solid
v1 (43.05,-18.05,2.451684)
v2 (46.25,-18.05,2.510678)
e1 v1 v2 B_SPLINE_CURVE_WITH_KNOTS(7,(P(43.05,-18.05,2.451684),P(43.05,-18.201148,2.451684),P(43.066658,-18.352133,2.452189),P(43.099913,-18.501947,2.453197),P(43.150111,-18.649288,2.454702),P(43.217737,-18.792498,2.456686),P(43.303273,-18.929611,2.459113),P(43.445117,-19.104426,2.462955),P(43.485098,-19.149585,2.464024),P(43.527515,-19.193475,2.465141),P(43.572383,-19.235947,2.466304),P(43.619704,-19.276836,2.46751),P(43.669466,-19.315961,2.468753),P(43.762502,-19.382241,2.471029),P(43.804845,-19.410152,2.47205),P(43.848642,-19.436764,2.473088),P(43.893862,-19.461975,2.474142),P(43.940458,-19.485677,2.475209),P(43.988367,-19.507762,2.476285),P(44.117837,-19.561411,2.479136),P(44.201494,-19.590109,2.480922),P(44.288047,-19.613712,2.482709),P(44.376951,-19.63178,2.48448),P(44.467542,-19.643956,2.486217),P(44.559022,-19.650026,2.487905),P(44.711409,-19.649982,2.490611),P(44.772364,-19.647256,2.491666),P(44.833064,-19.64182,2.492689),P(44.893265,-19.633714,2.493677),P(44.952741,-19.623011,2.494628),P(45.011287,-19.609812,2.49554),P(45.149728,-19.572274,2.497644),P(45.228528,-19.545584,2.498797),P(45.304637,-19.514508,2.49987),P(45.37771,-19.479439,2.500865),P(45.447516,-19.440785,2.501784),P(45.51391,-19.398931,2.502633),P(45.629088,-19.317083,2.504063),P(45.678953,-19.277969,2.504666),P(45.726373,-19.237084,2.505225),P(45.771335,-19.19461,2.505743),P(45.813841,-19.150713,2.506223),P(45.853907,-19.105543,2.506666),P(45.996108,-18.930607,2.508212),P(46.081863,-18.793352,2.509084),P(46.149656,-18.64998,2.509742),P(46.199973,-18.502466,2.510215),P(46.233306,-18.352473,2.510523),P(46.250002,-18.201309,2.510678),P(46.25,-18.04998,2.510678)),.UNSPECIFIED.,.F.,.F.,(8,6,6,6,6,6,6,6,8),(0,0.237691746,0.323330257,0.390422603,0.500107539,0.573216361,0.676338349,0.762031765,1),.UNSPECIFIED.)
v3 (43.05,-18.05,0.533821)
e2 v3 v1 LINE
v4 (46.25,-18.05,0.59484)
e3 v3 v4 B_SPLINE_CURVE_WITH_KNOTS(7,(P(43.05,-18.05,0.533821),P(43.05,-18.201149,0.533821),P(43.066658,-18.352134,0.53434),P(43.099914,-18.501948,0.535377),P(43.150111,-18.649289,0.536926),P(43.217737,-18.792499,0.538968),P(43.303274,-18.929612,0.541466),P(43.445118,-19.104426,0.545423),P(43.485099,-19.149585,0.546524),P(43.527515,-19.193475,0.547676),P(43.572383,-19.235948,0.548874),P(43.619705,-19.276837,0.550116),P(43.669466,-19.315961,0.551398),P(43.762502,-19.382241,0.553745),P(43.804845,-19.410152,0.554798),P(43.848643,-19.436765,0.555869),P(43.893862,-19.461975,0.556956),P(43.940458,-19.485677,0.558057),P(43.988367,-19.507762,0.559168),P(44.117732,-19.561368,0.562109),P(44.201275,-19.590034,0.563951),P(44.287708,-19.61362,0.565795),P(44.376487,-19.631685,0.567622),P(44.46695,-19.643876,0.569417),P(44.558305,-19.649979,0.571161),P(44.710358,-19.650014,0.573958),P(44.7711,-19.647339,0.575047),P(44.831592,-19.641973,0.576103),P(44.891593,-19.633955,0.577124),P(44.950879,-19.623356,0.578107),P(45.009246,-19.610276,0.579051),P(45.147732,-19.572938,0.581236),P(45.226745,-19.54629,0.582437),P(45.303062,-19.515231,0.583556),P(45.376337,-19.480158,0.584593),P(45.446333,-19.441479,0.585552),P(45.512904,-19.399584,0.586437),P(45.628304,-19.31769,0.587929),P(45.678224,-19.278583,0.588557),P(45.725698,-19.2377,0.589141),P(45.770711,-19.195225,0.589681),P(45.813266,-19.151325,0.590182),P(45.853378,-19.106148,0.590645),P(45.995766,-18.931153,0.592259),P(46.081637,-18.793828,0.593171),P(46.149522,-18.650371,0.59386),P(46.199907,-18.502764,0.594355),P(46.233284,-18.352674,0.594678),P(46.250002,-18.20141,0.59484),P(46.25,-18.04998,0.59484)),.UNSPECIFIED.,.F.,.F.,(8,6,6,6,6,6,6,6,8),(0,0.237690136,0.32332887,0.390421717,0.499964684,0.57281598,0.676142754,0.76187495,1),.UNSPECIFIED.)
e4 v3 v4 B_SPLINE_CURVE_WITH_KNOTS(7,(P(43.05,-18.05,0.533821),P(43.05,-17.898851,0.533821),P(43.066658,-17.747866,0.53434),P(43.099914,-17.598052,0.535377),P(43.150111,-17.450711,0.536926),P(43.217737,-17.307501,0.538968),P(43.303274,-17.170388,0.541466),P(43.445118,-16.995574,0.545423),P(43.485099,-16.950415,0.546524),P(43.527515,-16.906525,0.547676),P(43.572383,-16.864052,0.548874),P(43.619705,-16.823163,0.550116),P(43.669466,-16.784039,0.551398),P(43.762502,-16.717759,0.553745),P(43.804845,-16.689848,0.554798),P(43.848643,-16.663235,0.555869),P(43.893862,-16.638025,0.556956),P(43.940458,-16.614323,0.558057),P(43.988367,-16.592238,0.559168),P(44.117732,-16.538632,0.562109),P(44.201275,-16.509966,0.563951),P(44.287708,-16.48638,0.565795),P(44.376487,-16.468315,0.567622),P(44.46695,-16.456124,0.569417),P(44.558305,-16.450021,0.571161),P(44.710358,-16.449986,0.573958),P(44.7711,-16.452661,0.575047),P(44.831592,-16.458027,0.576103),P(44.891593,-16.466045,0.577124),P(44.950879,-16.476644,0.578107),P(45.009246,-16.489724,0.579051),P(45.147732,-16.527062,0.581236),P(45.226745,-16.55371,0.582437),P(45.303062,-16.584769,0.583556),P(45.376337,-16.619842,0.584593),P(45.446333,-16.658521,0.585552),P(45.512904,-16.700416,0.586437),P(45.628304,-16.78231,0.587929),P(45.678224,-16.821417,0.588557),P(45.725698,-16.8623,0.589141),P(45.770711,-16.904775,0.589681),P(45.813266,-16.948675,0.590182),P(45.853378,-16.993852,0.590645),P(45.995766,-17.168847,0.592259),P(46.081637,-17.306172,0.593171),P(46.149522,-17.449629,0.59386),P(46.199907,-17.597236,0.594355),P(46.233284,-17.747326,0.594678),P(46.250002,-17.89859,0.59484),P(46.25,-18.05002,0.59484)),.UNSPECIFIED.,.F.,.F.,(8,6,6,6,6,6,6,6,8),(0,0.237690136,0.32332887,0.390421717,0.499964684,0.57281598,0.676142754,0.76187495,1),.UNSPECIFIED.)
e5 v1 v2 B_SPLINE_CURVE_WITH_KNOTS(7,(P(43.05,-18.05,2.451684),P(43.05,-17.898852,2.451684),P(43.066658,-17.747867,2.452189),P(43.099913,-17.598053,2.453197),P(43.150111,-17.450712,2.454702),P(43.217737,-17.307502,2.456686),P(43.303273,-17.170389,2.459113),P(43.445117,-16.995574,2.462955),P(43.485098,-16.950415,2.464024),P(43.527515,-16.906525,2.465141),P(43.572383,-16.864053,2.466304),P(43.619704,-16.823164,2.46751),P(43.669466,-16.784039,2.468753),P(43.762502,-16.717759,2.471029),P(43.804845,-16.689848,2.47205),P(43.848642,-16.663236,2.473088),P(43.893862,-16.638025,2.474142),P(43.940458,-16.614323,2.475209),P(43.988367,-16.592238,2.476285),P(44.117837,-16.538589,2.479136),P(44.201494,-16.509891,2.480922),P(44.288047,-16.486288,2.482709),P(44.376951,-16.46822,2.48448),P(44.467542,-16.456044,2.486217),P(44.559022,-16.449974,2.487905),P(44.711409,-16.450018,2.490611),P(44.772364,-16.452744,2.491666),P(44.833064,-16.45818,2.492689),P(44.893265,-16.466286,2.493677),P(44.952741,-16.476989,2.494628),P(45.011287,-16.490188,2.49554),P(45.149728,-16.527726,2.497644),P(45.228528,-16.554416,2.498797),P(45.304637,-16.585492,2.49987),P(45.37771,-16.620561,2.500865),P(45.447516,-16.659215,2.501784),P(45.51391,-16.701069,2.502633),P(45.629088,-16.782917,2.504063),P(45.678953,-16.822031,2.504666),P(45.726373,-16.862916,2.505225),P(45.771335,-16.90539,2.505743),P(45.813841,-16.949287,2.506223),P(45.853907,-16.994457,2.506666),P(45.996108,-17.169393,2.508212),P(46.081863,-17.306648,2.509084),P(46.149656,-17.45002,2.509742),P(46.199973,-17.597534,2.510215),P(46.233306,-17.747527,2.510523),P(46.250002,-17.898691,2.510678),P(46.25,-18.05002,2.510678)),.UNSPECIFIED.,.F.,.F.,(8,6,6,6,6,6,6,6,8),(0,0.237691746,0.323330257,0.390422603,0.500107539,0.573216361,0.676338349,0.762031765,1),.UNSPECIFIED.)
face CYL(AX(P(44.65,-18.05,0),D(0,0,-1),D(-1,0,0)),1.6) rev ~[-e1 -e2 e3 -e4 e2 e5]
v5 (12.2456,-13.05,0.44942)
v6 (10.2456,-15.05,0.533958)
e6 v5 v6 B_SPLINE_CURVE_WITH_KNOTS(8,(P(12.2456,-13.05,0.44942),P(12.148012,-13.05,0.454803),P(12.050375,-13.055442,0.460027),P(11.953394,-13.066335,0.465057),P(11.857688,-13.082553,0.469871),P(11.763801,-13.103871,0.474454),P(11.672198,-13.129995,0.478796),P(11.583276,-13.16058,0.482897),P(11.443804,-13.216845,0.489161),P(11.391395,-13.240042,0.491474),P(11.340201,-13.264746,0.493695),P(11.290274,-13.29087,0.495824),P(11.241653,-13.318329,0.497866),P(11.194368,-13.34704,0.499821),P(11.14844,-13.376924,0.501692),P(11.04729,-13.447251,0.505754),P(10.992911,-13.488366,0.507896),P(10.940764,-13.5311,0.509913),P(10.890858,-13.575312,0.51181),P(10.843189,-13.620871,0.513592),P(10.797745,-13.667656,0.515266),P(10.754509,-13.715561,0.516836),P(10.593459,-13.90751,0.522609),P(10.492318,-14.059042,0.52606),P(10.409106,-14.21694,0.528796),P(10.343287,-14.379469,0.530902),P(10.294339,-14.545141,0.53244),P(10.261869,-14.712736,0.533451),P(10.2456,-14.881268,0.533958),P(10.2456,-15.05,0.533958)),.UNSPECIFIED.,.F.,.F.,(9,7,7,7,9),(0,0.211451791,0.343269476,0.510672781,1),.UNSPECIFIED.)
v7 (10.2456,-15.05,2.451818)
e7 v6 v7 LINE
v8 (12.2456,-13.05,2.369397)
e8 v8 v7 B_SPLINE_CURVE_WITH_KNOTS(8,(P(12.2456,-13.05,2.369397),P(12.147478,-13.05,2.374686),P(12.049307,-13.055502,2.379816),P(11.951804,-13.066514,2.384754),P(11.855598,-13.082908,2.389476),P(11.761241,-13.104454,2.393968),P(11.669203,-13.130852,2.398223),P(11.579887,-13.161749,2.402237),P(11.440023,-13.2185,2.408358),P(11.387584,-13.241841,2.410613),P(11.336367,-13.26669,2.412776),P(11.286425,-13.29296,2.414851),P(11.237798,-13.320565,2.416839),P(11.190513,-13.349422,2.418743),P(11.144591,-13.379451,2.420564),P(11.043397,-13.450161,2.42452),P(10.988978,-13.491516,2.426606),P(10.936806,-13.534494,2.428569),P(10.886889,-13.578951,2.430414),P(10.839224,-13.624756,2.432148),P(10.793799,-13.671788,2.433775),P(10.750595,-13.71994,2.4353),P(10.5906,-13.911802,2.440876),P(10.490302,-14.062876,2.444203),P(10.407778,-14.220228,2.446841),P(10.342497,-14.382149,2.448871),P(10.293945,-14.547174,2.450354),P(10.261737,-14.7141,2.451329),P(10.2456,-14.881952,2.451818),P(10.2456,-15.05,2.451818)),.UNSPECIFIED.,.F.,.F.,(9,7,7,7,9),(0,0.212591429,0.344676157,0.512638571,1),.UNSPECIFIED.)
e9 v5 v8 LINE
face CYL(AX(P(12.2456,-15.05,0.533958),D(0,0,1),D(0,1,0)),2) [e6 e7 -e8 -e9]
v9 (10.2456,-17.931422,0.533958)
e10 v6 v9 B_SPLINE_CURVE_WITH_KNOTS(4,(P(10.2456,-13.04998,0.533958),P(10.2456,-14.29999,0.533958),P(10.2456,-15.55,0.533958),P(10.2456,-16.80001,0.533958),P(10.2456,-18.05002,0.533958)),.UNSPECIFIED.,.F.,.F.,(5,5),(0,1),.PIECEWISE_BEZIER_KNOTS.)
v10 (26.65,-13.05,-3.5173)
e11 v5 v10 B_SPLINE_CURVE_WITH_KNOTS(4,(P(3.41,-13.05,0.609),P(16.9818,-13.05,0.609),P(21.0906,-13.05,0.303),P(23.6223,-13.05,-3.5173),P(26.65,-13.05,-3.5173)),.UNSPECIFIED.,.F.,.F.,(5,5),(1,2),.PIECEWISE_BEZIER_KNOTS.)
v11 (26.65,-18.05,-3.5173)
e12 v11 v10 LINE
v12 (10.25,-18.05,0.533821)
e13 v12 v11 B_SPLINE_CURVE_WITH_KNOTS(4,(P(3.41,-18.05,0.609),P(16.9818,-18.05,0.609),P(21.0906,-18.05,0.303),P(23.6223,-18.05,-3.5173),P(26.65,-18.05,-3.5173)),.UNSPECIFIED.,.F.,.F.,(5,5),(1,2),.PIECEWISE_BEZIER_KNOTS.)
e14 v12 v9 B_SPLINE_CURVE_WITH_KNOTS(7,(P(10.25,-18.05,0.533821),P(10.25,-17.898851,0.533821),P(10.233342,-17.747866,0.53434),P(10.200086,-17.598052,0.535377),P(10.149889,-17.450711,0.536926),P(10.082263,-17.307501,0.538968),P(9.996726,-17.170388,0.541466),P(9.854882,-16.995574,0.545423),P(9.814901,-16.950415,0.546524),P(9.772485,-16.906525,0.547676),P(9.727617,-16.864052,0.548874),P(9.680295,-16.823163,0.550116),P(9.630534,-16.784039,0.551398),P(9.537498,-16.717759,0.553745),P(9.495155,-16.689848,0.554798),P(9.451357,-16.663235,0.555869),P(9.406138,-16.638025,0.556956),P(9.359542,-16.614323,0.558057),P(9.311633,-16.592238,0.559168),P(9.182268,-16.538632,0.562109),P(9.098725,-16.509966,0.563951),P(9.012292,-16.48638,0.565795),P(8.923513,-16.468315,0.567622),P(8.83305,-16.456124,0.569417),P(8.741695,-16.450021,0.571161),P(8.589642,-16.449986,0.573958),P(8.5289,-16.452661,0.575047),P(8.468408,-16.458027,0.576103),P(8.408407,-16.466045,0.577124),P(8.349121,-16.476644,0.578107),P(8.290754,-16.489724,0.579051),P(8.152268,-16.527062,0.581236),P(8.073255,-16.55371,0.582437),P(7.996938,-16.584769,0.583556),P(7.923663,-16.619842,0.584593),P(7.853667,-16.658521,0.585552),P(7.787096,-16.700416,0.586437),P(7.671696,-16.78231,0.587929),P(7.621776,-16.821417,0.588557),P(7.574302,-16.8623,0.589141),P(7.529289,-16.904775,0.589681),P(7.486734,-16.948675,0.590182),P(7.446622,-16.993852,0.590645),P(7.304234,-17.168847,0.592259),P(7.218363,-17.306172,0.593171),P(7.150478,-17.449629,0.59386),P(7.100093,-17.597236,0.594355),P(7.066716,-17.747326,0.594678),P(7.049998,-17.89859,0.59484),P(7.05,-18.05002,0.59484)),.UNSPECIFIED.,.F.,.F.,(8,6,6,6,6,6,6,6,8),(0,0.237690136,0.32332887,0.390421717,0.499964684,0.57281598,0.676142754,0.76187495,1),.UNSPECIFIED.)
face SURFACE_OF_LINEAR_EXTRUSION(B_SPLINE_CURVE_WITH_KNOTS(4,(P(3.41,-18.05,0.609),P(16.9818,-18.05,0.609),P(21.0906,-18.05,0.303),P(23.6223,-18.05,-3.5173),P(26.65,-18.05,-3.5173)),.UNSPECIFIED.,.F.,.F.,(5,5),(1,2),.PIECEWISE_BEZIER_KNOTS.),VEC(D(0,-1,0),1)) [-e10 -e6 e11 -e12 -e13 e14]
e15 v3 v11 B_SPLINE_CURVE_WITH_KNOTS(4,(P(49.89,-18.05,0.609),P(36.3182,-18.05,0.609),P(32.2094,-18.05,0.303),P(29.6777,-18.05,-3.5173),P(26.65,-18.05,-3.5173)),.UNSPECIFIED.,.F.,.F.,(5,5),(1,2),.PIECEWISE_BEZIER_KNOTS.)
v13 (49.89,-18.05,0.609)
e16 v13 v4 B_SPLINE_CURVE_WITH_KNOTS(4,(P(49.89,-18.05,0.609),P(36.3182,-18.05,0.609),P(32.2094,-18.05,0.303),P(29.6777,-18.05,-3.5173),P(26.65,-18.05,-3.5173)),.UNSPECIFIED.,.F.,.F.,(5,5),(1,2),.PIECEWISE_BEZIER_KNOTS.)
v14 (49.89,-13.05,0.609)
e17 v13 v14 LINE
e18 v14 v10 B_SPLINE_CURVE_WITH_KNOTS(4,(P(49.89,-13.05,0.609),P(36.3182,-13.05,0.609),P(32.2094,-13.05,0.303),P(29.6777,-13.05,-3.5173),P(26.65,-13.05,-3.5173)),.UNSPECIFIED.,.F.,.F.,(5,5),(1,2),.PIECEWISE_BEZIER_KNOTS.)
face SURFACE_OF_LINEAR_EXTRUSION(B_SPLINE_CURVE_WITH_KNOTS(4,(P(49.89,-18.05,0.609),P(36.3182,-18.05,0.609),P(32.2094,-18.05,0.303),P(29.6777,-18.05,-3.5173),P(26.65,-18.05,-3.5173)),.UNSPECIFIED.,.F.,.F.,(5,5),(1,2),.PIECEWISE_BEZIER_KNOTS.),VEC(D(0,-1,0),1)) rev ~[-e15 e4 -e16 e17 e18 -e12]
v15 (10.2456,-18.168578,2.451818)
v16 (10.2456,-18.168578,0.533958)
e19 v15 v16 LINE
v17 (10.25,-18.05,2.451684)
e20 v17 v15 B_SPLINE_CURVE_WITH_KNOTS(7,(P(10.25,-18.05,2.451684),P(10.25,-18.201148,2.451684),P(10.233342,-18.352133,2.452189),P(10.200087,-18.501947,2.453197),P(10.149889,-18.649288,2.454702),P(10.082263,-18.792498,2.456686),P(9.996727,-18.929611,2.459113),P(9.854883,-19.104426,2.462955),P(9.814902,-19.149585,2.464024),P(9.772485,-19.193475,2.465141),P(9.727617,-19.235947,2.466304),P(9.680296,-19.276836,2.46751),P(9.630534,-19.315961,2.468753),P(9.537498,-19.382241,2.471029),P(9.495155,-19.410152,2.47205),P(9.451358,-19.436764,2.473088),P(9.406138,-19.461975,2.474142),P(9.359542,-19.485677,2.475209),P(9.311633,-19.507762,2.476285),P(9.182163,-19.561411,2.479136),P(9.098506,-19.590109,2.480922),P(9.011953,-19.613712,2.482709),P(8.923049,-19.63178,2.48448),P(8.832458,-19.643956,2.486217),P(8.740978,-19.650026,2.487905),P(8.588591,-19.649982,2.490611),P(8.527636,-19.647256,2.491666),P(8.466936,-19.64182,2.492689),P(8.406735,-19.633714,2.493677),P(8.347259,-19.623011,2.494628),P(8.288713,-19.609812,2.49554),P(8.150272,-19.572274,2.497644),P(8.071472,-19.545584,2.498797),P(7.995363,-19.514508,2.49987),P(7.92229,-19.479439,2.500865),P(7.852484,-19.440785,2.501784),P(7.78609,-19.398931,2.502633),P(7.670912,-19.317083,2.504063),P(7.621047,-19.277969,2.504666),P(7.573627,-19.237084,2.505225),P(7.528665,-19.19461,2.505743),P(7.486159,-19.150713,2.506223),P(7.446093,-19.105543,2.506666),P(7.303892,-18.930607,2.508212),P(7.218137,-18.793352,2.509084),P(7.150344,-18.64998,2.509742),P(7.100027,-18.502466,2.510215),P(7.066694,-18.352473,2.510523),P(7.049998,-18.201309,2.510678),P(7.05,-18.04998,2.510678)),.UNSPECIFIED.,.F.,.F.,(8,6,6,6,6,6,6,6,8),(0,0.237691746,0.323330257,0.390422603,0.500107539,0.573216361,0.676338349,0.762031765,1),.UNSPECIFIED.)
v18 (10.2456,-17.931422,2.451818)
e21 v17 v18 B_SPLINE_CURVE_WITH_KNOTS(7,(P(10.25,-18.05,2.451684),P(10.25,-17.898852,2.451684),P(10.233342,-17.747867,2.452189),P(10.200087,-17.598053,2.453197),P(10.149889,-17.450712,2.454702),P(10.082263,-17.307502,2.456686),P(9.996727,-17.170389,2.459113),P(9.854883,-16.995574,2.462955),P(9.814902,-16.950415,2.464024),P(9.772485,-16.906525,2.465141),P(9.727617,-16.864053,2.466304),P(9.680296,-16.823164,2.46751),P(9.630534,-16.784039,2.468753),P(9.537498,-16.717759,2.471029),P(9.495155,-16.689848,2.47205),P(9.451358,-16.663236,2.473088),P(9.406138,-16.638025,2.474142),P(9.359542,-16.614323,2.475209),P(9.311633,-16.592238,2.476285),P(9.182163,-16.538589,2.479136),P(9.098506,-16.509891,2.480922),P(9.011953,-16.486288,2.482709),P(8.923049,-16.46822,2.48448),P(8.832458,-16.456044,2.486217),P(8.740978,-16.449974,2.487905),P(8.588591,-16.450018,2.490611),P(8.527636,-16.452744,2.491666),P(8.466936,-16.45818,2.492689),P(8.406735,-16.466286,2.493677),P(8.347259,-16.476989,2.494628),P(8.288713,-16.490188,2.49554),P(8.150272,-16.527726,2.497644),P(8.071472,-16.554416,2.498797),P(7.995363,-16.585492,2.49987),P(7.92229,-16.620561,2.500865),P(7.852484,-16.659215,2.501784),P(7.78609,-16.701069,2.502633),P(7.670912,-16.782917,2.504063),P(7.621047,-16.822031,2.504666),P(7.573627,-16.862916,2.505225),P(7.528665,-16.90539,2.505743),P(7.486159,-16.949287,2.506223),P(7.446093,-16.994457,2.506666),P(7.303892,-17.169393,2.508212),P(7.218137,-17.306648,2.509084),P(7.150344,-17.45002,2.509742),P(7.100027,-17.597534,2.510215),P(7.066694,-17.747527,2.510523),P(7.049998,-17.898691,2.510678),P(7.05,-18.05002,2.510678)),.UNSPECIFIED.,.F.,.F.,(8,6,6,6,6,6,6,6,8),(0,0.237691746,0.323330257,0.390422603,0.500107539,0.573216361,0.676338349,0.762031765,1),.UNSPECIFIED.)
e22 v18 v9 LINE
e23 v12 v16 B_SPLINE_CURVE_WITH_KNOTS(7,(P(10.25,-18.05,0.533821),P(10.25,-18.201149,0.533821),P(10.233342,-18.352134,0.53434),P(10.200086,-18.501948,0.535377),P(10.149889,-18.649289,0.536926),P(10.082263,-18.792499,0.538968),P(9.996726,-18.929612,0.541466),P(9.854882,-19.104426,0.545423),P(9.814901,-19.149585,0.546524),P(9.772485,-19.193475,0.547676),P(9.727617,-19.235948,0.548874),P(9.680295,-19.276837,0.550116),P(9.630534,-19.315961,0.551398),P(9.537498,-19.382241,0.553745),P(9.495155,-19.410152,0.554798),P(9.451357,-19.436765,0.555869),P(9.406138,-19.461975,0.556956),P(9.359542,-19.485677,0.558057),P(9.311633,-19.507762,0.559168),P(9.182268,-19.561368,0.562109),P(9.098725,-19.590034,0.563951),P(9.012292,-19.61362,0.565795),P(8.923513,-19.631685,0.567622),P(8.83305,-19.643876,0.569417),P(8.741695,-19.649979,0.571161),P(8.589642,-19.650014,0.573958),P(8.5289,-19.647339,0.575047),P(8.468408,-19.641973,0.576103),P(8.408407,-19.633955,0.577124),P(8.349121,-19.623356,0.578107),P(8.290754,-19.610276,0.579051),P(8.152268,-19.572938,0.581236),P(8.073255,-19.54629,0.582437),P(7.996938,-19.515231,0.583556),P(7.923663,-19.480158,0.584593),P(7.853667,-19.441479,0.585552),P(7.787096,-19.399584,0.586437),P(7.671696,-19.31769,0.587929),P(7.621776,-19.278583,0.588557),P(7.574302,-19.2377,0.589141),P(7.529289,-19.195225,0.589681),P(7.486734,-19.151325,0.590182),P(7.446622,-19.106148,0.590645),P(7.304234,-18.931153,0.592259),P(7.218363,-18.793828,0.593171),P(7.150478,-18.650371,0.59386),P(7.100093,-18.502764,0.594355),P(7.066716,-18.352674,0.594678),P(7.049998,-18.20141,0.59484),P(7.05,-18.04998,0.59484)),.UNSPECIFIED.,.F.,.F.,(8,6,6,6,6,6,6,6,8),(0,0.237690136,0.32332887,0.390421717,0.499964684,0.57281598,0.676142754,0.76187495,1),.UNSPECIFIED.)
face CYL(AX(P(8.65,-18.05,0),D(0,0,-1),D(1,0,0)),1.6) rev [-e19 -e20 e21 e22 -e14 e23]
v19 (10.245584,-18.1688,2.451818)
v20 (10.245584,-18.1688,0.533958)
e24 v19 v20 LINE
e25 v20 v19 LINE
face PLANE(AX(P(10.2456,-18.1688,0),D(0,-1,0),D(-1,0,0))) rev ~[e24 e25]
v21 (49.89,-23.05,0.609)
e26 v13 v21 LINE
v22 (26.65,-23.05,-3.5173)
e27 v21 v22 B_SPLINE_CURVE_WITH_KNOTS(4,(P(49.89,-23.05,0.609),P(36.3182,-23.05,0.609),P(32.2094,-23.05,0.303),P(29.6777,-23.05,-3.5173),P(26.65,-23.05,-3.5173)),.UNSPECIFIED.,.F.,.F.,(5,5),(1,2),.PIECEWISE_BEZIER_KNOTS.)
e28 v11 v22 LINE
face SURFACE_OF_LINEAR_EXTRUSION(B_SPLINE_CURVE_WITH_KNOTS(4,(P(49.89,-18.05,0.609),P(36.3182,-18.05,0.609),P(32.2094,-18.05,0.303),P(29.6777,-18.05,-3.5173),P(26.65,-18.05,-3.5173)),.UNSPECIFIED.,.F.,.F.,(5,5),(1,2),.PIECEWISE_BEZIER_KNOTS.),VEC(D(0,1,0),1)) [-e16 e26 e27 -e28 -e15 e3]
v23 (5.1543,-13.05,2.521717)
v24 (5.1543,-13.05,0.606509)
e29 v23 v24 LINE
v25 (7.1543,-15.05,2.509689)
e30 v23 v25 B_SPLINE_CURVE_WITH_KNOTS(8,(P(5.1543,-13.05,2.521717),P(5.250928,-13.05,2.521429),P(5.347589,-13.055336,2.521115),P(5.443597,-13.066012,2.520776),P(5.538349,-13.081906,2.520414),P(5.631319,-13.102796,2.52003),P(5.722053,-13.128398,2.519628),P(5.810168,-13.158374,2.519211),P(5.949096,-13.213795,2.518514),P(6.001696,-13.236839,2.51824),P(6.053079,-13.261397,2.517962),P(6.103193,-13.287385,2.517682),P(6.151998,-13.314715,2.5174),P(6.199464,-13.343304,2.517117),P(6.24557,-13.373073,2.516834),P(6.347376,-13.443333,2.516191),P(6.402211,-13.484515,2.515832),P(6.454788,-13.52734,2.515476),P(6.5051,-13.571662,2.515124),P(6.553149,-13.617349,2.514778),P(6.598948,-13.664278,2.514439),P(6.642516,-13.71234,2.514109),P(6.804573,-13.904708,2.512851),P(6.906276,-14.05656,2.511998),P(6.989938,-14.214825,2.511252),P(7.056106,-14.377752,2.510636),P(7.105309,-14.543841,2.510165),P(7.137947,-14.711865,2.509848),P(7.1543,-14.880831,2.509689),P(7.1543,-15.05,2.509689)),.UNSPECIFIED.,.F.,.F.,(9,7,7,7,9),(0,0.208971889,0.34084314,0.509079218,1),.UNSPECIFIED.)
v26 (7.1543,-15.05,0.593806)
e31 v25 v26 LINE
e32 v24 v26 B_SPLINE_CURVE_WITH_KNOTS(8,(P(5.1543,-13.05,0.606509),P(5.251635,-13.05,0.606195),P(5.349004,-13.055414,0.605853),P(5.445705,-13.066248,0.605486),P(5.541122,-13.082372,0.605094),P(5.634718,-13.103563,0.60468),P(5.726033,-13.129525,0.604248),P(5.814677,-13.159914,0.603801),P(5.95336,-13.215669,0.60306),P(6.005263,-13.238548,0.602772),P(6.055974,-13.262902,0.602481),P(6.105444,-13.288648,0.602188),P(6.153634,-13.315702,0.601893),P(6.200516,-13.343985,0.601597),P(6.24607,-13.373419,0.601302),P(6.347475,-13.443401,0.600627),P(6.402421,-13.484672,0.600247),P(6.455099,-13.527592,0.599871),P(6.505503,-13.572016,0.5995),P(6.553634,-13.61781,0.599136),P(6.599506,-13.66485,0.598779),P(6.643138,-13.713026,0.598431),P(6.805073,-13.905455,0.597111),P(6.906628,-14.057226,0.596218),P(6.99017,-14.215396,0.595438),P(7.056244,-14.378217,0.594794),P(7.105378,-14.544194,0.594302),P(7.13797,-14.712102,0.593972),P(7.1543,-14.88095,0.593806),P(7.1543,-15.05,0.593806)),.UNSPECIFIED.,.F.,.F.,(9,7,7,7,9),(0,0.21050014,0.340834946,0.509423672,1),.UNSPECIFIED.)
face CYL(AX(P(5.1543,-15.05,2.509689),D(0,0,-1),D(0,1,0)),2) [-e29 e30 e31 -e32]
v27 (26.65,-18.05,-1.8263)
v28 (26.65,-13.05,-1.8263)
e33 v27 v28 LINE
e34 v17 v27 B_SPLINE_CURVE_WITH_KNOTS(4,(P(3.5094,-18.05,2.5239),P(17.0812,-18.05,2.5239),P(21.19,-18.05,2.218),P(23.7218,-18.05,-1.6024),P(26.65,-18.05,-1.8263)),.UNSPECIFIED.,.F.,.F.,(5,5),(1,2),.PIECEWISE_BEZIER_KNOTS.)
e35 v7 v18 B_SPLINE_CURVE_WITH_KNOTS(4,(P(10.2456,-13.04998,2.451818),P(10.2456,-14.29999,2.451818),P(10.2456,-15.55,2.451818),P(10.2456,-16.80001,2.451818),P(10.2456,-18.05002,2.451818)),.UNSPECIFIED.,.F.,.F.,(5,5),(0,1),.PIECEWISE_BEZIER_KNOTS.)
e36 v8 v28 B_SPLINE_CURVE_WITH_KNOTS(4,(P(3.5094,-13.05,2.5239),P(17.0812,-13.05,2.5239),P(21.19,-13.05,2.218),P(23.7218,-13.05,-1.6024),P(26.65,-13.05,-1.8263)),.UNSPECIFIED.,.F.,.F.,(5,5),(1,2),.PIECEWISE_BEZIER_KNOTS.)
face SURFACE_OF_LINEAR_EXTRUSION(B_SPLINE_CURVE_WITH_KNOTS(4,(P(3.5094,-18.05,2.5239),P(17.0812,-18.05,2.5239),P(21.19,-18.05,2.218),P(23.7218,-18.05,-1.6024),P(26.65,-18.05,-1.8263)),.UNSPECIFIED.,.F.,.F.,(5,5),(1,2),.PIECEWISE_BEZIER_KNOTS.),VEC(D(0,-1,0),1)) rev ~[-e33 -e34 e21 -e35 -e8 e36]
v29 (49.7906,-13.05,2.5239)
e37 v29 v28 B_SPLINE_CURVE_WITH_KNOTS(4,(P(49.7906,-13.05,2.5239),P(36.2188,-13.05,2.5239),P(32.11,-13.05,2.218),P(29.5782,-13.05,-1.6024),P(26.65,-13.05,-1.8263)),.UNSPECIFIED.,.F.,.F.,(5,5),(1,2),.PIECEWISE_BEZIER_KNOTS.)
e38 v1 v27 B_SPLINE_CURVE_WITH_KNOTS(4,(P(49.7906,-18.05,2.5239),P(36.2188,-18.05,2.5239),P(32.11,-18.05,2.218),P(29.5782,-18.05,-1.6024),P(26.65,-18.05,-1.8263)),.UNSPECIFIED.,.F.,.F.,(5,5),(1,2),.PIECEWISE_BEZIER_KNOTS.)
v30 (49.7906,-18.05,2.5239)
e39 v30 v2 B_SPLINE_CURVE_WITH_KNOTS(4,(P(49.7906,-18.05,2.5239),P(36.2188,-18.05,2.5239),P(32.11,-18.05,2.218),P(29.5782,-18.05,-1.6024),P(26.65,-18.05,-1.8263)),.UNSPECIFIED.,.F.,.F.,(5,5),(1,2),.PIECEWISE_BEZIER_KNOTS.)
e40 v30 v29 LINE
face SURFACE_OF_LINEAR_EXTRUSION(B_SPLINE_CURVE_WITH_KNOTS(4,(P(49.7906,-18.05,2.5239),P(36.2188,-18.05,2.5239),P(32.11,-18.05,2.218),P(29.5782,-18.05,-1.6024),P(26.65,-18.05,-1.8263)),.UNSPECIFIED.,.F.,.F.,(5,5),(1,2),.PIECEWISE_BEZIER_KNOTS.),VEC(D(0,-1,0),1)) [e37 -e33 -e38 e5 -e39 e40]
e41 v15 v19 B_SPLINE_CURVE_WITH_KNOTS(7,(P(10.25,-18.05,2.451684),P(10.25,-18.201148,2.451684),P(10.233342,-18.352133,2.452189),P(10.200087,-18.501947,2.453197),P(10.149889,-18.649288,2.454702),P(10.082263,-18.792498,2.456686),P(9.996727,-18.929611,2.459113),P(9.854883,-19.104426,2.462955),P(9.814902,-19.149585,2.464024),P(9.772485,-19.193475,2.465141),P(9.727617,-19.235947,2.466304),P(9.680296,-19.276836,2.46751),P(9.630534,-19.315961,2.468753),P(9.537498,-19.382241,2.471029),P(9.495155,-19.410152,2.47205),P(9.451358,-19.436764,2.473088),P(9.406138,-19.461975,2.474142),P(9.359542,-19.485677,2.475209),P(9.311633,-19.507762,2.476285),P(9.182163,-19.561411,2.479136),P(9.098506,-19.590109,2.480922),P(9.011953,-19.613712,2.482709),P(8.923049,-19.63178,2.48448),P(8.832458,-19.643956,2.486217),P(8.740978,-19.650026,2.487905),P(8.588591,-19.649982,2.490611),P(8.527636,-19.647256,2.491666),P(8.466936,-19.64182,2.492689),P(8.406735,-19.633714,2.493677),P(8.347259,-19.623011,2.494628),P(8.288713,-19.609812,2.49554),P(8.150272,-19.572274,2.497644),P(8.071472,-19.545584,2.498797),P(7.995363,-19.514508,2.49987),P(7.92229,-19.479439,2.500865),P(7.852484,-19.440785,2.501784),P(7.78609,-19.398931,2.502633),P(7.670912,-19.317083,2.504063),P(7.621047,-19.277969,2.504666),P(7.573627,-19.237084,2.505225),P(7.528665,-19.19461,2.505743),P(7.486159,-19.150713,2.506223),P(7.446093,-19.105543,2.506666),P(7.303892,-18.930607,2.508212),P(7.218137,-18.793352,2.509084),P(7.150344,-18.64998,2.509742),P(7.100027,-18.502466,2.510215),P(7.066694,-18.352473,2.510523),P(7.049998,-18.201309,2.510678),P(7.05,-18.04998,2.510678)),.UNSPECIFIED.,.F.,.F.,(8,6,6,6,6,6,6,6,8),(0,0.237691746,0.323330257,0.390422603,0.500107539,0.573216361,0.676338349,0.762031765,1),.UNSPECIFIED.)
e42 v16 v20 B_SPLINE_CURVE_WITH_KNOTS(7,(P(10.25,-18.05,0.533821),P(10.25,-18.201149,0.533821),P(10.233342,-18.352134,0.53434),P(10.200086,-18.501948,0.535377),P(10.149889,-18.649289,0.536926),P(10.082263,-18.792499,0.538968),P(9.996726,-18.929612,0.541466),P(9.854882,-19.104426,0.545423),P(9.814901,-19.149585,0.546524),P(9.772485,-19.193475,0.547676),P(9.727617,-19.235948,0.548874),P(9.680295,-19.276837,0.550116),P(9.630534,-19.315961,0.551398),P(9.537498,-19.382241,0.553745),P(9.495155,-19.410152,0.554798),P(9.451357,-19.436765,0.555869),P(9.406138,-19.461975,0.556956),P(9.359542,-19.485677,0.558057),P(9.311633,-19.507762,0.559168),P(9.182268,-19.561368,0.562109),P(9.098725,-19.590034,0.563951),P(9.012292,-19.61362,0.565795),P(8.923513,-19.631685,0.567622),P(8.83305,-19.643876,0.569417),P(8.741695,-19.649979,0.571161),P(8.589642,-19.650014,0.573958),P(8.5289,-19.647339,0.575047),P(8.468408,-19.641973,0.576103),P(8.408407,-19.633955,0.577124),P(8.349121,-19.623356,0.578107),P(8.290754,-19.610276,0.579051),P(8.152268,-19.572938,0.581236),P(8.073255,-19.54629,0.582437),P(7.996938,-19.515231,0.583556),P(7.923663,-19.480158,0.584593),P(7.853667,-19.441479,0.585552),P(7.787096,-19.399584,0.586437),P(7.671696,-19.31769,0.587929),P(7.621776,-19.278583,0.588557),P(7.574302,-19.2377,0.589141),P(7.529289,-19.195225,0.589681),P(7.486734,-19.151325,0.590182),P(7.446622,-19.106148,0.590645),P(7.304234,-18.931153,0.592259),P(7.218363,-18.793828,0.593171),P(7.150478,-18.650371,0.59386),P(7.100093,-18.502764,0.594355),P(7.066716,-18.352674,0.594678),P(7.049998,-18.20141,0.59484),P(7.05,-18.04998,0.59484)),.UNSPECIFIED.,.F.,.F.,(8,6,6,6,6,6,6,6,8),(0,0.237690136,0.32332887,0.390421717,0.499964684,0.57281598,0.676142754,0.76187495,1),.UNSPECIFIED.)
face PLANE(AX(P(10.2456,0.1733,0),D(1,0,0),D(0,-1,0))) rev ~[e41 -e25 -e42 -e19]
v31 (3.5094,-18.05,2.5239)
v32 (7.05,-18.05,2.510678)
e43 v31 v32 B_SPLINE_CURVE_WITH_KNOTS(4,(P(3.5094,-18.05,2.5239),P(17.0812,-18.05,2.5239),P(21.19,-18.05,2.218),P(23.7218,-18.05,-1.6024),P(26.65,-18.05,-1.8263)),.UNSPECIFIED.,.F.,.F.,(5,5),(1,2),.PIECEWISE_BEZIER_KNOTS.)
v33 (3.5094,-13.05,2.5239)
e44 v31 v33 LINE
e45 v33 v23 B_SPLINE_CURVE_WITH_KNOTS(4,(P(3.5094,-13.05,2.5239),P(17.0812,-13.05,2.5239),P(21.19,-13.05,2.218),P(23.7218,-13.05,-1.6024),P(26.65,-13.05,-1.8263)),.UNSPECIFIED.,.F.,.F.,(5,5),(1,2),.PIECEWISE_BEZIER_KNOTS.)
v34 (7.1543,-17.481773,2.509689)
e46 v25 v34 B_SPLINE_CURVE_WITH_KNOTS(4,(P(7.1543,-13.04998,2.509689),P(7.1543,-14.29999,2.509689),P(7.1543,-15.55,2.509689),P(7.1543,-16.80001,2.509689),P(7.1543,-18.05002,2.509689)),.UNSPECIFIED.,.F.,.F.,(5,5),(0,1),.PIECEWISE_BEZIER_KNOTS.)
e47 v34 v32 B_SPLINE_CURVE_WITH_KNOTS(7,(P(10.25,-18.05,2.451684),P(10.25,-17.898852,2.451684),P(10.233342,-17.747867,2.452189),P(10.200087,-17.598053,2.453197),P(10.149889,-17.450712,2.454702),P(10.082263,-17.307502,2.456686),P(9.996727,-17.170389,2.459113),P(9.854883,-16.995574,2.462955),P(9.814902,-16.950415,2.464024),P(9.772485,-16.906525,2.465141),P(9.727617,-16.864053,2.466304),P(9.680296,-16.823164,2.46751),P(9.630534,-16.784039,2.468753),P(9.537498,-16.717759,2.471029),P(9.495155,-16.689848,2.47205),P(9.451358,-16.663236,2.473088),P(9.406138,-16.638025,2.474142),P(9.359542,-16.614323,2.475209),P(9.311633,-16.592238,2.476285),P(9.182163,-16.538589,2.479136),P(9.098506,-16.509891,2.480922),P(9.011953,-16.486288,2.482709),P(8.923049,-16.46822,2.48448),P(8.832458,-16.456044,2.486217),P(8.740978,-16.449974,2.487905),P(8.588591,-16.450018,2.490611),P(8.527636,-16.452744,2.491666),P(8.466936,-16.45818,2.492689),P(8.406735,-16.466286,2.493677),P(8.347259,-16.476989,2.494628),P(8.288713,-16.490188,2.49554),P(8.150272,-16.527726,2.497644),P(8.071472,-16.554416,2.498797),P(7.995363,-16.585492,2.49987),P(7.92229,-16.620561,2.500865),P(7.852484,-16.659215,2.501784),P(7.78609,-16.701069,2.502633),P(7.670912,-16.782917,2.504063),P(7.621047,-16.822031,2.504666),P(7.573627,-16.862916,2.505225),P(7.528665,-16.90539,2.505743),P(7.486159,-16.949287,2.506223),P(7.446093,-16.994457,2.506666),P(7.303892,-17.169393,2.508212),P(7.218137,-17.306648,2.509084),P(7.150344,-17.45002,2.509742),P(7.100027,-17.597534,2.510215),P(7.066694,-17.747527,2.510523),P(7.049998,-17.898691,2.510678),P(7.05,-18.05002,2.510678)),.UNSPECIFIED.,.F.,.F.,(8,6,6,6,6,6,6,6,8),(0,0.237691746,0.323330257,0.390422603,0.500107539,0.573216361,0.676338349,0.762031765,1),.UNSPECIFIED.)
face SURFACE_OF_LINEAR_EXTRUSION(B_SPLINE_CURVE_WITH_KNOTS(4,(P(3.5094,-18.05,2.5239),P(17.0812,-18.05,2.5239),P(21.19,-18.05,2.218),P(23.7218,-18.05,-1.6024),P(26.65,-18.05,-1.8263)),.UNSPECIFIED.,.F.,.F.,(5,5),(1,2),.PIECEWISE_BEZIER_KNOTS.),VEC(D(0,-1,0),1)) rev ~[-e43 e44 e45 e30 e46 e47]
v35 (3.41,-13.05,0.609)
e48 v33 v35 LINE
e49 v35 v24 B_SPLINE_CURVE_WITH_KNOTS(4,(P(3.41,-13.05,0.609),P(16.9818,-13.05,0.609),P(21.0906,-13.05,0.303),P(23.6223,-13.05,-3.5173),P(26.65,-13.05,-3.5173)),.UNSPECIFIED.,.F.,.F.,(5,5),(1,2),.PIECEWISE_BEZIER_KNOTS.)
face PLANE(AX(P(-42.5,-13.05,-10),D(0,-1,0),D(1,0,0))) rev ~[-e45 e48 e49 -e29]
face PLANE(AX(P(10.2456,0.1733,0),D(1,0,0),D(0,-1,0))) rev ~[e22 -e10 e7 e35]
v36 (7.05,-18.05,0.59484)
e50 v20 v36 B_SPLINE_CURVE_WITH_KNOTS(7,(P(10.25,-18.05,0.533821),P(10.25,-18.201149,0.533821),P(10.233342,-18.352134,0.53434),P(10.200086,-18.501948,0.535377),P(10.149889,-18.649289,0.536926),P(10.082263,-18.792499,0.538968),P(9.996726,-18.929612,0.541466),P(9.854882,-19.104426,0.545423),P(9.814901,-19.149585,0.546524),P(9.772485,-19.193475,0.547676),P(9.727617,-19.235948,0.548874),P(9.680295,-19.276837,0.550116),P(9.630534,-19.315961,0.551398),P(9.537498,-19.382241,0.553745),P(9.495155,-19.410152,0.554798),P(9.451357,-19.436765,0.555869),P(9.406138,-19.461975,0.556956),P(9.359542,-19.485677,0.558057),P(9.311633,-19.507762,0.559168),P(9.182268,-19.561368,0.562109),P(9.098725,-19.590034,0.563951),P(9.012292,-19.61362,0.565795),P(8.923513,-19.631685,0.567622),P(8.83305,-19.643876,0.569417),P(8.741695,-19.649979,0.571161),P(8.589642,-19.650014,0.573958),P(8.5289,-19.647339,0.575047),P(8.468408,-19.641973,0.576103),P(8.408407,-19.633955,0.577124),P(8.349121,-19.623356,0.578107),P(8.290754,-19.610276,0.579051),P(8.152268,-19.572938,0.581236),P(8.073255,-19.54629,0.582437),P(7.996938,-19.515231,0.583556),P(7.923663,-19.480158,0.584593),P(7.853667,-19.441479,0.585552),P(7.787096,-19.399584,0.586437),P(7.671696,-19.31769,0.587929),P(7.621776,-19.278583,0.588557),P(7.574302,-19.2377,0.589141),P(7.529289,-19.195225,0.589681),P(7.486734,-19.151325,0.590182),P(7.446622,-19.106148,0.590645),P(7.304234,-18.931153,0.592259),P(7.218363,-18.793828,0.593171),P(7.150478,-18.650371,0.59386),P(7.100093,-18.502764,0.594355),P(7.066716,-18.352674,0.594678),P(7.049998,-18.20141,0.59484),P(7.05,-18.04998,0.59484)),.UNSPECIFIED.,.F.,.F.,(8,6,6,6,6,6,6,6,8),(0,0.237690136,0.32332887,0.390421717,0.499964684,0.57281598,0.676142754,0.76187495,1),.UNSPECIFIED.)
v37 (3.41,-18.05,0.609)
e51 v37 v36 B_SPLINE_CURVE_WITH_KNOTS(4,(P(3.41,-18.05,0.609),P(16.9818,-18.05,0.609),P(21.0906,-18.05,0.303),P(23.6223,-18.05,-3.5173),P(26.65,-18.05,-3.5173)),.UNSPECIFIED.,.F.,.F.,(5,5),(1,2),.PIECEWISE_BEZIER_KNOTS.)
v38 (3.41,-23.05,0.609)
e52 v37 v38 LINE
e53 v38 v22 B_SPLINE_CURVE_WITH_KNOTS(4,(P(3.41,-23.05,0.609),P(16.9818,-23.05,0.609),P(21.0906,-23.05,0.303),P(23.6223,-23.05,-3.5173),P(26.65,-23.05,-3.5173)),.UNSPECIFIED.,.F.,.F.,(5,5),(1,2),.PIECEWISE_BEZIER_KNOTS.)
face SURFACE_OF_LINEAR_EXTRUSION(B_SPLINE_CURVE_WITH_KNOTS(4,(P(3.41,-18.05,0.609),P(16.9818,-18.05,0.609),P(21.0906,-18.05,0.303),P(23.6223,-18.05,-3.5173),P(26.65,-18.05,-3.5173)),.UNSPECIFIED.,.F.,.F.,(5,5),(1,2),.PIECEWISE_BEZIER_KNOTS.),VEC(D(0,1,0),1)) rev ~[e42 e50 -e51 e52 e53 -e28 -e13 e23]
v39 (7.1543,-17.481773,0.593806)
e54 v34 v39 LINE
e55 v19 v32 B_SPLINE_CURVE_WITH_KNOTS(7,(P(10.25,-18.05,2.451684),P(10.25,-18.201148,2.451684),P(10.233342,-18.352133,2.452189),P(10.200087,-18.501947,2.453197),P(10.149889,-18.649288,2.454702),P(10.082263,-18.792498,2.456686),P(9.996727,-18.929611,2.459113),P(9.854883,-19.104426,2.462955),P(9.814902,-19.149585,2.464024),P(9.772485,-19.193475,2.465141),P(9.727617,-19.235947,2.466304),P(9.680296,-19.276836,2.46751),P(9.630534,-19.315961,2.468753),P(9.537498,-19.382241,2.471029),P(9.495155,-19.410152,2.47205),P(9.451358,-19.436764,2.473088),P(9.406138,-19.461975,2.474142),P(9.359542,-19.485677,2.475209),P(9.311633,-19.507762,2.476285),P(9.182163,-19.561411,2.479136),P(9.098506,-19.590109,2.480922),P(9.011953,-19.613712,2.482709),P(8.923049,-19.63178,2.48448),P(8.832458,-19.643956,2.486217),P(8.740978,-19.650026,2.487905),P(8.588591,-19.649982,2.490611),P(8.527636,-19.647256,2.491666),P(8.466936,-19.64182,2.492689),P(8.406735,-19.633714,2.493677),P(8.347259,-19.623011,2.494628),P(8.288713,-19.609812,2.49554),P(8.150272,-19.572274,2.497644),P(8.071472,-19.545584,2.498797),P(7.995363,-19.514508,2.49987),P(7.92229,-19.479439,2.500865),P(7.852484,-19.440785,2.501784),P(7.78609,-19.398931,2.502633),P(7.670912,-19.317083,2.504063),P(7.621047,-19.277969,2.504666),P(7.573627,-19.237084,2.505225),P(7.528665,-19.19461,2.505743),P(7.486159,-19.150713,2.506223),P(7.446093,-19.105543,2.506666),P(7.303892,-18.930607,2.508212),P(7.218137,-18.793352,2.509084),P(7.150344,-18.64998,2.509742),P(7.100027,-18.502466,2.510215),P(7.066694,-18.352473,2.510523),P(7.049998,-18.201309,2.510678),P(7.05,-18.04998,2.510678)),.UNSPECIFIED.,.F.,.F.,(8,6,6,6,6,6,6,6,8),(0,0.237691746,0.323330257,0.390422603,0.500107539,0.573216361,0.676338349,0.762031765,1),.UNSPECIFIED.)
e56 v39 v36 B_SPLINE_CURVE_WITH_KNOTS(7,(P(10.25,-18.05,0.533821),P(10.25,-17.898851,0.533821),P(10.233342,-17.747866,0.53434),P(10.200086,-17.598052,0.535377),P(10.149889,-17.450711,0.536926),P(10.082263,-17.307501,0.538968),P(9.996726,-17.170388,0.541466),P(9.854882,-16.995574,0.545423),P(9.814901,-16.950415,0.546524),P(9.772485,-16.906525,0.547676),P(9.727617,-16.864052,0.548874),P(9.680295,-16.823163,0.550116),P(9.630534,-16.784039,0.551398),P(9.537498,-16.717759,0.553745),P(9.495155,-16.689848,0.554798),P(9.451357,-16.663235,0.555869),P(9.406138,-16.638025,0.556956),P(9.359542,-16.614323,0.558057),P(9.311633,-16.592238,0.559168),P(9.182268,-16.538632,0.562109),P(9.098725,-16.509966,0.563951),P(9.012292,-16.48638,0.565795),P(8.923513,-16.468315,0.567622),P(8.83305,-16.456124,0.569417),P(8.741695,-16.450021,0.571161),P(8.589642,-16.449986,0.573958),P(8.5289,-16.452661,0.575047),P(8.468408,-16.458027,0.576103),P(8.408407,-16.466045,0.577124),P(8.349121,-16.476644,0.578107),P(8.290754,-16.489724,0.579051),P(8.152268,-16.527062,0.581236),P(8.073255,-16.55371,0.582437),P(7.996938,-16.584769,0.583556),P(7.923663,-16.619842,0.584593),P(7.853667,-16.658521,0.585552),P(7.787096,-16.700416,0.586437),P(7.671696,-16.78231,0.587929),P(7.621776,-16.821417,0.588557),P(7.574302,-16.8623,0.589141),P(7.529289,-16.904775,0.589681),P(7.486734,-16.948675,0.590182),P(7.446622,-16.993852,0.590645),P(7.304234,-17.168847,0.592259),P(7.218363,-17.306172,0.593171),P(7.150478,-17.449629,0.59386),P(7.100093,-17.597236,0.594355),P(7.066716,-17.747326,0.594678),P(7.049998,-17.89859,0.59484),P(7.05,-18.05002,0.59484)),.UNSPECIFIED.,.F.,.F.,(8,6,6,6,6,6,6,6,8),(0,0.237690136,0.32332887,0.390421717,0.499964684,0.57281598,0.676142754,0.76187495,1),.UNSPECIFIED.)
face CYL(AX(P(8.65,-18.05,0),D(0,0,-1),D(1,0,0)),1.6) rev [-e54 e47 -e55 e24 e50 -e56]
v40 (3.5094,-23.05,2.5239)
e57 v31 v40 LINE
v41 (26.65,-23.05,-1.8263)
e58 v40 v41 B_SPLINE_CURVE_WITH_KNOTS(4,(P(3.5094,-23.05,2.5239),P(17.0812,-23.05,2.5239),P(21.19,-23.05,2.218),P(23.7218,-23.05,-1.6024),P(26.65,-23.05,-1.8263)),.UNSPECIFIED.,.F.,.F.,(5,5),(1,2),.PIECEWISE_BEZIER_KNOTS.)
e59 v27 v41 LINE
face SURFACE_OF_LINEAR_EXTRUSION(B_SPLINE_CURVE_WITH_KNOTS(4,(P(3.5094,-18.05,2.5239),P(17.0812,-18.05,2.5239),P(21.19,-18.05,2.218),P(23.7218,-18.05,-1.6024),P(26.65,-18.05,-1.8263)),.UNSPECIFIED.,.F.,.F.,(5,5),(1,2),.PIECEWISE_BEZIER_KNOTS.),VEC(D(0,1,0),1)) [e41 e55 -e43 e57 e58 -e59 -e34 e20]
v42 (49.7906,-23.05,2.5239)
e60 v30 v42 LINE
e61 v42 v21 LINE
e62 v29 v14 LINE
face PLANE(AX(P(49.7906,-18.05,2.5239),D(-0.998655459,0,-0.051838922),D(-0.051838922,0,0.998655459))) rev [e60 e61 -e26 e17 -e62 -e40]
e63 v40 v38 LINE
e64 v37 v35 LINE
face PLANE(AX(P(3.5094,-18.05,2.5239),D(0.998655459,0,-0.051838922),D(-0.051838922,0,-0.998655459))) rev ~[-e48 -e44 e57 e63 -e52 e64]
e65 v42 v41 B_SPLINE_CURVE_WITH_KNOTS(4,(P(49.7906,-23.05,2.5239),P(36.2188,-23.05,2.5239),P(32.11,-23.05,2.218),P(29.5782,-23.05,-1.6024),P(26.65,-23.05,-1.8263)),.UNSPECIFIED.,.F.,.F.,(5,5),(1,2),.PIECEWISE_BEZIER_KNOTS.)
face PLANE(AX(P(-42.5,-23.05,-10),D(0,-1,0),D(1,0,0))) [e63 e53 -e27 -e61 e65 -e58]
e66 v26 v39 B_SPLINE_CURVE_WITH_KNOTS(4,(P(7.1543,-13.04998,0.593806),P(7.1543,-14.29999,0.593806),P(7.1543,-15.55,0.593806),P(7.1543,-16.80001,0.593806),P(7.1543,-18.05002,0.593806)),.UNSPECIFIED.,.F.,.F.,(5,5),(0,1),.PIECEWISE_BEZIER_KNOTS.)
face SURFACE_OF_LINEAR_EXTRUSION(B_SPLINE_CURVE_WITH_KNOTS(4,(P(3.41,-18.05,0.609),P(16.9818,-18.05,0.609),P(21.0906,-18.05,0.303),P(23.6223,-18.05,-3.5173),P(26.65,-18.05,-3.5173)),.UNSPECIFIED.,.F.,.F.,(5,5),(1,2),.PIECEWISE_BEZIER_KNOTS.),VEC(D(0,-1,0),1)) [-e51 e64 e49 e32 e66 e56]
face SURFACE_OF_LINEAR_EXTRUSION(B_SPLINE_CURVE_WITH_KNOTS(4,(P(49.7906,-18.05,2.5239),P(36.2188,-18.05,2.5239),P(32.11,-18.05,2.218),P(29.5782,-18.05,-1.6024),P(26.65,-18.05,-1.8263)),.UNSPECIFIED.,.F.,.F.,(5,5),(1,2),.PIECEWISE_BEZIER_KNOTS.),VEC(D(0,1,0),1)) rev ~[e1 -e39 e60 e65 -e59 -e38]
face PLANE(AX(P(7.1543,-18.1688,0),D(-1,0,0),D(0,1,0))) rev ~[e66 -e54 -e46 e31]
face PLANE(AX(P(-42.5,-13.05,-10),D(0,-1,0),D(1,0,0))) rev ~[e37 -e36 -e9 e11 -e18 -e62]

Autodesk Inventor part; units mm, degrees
ref_plane "YZ Plane" through (0, 0, 0) normal (1, 0, 0) x (0, 1, 0)
ref_plane "XZ Plane" through (0, 0, 0) normal (0, 1, 0) x (-1, 0, 0)
ref_plane "XY Plane" through (0, 0, 0) normal (0, 0, 1) x (1, 0, 0)
ref_plane "Arbeitsebene1" through (-42.5, -18.05, -10) normal (0, -1, 0) x (1, 0, 0)
sketch "Skizze1" plane through (-42.5, -18.05, -10) normal (0, -1, 0) x (1, 0, 0)
  line L0 (45.91, 10.609) -> (59.4818, 10.609) construction
  line L1 (59.4818, 10.609) -> (63.5906, 10.303) construction
  line L2 (63.5906, 10.303) -> (66.1223, 6.4827) construction
  line L3 (66.1223, 6.4827) -> (69.15, 6.4827) construction
  spline S0 degree 4 poles (45.91, 10.609) (59.4818, 10.609) (63.5906, 10.303) (66.1223, 6.4827) (69.15, 6.4827) knots 1 1 1 1 1 2 2 2 2 2
  line L4 (46.0094, 12.5239) -> (59.5812, 12.5239) construction
  line L5 (59.5812, 12.5239) -> (63.69, 12.218) construction
  line L6 (63.69, 12.218) -> (66.2218, 8.3976) construction
  line L7 (66.2218, 8.3976) -> (69.15, 8.1737) construction
  spline S1 degree 4 poles (46.0094, 12.5239) (59.5812, 12.5239) (63.69, 12.218) (66.2218, 8.3976) (69.15, 8.1737) knots 1 1 1 1 1 2 2 2 2 2
  line L8 (46.0094, 12.5239) -> (45.91, 10.609)
  line L9 (69.15, 8.1737) -> (69.15, 6.4827)
  line L10 (42.5, 16.2648) -> (42.5, 4.43) projected
  point P0 (54.5567, 11.9133)
extrude "Extrusion1" add sketch "Skizze1" along normal mid plane 10
ref_plane "Arbeitsebene2" through (0, 0, 0) normal (0, 0, 1) x (1, 0, 0)
sketch "Skizze2" plane through (0, 0, 0) normal (0, 0, 1) x (1, 0, 0)
  line L0 (12.3, -18.05) -> (-2.05, -18.05) projected
  circle A0 centre (8.65, -14) radius 1.4 projected
  circle A1 centre (8.65, -18.05) radius 1.6
  point P0 (0, 0)
  dimension "d2" = 3.2
extrude "Extrusion2" cut sketch "Skizze2" along normal mid plane 10 contours A1 L0 | L0 A1
mirror "Spiegeln1" about plane through (26.65, -18.05, -3.5173) normal (1, 0, 0) of "Extrusion1", "Extrusion2"
sketch "Skizze3" plane through (0, 0, 0) normal (0, 0, 1) x (1, 0, 0)
  line L0 (10.2456, -18.1688) -> (7.1543, -18.1688)
  line L1 (7.1543, -18.1688) -> (7.1543, 0.1733)
  line L2 (7.1543, 0.1733) -> (10.2456, 0.1733)
  line L3 (10.2456, 0.1733) -> (10.2456, -18.1688)
  point P0 (0, 0)
  point P1 (7.1543, -17.4817)
extrude "Extrusion3" cut sketch "Skizze3" along normal mid plane 10
fillet "Rundung1" radius 2 2 edges at (10.2456, -13.05, 1.4929) (7.1543, -13.05, 1.5517)
ref_plane "Arbeitsebene3" through (53.3, 0, 0) normal (0, 0, -1) x (-1, 0, 0)
properties part number "60_Planktoscope_Sampleholder_2"
